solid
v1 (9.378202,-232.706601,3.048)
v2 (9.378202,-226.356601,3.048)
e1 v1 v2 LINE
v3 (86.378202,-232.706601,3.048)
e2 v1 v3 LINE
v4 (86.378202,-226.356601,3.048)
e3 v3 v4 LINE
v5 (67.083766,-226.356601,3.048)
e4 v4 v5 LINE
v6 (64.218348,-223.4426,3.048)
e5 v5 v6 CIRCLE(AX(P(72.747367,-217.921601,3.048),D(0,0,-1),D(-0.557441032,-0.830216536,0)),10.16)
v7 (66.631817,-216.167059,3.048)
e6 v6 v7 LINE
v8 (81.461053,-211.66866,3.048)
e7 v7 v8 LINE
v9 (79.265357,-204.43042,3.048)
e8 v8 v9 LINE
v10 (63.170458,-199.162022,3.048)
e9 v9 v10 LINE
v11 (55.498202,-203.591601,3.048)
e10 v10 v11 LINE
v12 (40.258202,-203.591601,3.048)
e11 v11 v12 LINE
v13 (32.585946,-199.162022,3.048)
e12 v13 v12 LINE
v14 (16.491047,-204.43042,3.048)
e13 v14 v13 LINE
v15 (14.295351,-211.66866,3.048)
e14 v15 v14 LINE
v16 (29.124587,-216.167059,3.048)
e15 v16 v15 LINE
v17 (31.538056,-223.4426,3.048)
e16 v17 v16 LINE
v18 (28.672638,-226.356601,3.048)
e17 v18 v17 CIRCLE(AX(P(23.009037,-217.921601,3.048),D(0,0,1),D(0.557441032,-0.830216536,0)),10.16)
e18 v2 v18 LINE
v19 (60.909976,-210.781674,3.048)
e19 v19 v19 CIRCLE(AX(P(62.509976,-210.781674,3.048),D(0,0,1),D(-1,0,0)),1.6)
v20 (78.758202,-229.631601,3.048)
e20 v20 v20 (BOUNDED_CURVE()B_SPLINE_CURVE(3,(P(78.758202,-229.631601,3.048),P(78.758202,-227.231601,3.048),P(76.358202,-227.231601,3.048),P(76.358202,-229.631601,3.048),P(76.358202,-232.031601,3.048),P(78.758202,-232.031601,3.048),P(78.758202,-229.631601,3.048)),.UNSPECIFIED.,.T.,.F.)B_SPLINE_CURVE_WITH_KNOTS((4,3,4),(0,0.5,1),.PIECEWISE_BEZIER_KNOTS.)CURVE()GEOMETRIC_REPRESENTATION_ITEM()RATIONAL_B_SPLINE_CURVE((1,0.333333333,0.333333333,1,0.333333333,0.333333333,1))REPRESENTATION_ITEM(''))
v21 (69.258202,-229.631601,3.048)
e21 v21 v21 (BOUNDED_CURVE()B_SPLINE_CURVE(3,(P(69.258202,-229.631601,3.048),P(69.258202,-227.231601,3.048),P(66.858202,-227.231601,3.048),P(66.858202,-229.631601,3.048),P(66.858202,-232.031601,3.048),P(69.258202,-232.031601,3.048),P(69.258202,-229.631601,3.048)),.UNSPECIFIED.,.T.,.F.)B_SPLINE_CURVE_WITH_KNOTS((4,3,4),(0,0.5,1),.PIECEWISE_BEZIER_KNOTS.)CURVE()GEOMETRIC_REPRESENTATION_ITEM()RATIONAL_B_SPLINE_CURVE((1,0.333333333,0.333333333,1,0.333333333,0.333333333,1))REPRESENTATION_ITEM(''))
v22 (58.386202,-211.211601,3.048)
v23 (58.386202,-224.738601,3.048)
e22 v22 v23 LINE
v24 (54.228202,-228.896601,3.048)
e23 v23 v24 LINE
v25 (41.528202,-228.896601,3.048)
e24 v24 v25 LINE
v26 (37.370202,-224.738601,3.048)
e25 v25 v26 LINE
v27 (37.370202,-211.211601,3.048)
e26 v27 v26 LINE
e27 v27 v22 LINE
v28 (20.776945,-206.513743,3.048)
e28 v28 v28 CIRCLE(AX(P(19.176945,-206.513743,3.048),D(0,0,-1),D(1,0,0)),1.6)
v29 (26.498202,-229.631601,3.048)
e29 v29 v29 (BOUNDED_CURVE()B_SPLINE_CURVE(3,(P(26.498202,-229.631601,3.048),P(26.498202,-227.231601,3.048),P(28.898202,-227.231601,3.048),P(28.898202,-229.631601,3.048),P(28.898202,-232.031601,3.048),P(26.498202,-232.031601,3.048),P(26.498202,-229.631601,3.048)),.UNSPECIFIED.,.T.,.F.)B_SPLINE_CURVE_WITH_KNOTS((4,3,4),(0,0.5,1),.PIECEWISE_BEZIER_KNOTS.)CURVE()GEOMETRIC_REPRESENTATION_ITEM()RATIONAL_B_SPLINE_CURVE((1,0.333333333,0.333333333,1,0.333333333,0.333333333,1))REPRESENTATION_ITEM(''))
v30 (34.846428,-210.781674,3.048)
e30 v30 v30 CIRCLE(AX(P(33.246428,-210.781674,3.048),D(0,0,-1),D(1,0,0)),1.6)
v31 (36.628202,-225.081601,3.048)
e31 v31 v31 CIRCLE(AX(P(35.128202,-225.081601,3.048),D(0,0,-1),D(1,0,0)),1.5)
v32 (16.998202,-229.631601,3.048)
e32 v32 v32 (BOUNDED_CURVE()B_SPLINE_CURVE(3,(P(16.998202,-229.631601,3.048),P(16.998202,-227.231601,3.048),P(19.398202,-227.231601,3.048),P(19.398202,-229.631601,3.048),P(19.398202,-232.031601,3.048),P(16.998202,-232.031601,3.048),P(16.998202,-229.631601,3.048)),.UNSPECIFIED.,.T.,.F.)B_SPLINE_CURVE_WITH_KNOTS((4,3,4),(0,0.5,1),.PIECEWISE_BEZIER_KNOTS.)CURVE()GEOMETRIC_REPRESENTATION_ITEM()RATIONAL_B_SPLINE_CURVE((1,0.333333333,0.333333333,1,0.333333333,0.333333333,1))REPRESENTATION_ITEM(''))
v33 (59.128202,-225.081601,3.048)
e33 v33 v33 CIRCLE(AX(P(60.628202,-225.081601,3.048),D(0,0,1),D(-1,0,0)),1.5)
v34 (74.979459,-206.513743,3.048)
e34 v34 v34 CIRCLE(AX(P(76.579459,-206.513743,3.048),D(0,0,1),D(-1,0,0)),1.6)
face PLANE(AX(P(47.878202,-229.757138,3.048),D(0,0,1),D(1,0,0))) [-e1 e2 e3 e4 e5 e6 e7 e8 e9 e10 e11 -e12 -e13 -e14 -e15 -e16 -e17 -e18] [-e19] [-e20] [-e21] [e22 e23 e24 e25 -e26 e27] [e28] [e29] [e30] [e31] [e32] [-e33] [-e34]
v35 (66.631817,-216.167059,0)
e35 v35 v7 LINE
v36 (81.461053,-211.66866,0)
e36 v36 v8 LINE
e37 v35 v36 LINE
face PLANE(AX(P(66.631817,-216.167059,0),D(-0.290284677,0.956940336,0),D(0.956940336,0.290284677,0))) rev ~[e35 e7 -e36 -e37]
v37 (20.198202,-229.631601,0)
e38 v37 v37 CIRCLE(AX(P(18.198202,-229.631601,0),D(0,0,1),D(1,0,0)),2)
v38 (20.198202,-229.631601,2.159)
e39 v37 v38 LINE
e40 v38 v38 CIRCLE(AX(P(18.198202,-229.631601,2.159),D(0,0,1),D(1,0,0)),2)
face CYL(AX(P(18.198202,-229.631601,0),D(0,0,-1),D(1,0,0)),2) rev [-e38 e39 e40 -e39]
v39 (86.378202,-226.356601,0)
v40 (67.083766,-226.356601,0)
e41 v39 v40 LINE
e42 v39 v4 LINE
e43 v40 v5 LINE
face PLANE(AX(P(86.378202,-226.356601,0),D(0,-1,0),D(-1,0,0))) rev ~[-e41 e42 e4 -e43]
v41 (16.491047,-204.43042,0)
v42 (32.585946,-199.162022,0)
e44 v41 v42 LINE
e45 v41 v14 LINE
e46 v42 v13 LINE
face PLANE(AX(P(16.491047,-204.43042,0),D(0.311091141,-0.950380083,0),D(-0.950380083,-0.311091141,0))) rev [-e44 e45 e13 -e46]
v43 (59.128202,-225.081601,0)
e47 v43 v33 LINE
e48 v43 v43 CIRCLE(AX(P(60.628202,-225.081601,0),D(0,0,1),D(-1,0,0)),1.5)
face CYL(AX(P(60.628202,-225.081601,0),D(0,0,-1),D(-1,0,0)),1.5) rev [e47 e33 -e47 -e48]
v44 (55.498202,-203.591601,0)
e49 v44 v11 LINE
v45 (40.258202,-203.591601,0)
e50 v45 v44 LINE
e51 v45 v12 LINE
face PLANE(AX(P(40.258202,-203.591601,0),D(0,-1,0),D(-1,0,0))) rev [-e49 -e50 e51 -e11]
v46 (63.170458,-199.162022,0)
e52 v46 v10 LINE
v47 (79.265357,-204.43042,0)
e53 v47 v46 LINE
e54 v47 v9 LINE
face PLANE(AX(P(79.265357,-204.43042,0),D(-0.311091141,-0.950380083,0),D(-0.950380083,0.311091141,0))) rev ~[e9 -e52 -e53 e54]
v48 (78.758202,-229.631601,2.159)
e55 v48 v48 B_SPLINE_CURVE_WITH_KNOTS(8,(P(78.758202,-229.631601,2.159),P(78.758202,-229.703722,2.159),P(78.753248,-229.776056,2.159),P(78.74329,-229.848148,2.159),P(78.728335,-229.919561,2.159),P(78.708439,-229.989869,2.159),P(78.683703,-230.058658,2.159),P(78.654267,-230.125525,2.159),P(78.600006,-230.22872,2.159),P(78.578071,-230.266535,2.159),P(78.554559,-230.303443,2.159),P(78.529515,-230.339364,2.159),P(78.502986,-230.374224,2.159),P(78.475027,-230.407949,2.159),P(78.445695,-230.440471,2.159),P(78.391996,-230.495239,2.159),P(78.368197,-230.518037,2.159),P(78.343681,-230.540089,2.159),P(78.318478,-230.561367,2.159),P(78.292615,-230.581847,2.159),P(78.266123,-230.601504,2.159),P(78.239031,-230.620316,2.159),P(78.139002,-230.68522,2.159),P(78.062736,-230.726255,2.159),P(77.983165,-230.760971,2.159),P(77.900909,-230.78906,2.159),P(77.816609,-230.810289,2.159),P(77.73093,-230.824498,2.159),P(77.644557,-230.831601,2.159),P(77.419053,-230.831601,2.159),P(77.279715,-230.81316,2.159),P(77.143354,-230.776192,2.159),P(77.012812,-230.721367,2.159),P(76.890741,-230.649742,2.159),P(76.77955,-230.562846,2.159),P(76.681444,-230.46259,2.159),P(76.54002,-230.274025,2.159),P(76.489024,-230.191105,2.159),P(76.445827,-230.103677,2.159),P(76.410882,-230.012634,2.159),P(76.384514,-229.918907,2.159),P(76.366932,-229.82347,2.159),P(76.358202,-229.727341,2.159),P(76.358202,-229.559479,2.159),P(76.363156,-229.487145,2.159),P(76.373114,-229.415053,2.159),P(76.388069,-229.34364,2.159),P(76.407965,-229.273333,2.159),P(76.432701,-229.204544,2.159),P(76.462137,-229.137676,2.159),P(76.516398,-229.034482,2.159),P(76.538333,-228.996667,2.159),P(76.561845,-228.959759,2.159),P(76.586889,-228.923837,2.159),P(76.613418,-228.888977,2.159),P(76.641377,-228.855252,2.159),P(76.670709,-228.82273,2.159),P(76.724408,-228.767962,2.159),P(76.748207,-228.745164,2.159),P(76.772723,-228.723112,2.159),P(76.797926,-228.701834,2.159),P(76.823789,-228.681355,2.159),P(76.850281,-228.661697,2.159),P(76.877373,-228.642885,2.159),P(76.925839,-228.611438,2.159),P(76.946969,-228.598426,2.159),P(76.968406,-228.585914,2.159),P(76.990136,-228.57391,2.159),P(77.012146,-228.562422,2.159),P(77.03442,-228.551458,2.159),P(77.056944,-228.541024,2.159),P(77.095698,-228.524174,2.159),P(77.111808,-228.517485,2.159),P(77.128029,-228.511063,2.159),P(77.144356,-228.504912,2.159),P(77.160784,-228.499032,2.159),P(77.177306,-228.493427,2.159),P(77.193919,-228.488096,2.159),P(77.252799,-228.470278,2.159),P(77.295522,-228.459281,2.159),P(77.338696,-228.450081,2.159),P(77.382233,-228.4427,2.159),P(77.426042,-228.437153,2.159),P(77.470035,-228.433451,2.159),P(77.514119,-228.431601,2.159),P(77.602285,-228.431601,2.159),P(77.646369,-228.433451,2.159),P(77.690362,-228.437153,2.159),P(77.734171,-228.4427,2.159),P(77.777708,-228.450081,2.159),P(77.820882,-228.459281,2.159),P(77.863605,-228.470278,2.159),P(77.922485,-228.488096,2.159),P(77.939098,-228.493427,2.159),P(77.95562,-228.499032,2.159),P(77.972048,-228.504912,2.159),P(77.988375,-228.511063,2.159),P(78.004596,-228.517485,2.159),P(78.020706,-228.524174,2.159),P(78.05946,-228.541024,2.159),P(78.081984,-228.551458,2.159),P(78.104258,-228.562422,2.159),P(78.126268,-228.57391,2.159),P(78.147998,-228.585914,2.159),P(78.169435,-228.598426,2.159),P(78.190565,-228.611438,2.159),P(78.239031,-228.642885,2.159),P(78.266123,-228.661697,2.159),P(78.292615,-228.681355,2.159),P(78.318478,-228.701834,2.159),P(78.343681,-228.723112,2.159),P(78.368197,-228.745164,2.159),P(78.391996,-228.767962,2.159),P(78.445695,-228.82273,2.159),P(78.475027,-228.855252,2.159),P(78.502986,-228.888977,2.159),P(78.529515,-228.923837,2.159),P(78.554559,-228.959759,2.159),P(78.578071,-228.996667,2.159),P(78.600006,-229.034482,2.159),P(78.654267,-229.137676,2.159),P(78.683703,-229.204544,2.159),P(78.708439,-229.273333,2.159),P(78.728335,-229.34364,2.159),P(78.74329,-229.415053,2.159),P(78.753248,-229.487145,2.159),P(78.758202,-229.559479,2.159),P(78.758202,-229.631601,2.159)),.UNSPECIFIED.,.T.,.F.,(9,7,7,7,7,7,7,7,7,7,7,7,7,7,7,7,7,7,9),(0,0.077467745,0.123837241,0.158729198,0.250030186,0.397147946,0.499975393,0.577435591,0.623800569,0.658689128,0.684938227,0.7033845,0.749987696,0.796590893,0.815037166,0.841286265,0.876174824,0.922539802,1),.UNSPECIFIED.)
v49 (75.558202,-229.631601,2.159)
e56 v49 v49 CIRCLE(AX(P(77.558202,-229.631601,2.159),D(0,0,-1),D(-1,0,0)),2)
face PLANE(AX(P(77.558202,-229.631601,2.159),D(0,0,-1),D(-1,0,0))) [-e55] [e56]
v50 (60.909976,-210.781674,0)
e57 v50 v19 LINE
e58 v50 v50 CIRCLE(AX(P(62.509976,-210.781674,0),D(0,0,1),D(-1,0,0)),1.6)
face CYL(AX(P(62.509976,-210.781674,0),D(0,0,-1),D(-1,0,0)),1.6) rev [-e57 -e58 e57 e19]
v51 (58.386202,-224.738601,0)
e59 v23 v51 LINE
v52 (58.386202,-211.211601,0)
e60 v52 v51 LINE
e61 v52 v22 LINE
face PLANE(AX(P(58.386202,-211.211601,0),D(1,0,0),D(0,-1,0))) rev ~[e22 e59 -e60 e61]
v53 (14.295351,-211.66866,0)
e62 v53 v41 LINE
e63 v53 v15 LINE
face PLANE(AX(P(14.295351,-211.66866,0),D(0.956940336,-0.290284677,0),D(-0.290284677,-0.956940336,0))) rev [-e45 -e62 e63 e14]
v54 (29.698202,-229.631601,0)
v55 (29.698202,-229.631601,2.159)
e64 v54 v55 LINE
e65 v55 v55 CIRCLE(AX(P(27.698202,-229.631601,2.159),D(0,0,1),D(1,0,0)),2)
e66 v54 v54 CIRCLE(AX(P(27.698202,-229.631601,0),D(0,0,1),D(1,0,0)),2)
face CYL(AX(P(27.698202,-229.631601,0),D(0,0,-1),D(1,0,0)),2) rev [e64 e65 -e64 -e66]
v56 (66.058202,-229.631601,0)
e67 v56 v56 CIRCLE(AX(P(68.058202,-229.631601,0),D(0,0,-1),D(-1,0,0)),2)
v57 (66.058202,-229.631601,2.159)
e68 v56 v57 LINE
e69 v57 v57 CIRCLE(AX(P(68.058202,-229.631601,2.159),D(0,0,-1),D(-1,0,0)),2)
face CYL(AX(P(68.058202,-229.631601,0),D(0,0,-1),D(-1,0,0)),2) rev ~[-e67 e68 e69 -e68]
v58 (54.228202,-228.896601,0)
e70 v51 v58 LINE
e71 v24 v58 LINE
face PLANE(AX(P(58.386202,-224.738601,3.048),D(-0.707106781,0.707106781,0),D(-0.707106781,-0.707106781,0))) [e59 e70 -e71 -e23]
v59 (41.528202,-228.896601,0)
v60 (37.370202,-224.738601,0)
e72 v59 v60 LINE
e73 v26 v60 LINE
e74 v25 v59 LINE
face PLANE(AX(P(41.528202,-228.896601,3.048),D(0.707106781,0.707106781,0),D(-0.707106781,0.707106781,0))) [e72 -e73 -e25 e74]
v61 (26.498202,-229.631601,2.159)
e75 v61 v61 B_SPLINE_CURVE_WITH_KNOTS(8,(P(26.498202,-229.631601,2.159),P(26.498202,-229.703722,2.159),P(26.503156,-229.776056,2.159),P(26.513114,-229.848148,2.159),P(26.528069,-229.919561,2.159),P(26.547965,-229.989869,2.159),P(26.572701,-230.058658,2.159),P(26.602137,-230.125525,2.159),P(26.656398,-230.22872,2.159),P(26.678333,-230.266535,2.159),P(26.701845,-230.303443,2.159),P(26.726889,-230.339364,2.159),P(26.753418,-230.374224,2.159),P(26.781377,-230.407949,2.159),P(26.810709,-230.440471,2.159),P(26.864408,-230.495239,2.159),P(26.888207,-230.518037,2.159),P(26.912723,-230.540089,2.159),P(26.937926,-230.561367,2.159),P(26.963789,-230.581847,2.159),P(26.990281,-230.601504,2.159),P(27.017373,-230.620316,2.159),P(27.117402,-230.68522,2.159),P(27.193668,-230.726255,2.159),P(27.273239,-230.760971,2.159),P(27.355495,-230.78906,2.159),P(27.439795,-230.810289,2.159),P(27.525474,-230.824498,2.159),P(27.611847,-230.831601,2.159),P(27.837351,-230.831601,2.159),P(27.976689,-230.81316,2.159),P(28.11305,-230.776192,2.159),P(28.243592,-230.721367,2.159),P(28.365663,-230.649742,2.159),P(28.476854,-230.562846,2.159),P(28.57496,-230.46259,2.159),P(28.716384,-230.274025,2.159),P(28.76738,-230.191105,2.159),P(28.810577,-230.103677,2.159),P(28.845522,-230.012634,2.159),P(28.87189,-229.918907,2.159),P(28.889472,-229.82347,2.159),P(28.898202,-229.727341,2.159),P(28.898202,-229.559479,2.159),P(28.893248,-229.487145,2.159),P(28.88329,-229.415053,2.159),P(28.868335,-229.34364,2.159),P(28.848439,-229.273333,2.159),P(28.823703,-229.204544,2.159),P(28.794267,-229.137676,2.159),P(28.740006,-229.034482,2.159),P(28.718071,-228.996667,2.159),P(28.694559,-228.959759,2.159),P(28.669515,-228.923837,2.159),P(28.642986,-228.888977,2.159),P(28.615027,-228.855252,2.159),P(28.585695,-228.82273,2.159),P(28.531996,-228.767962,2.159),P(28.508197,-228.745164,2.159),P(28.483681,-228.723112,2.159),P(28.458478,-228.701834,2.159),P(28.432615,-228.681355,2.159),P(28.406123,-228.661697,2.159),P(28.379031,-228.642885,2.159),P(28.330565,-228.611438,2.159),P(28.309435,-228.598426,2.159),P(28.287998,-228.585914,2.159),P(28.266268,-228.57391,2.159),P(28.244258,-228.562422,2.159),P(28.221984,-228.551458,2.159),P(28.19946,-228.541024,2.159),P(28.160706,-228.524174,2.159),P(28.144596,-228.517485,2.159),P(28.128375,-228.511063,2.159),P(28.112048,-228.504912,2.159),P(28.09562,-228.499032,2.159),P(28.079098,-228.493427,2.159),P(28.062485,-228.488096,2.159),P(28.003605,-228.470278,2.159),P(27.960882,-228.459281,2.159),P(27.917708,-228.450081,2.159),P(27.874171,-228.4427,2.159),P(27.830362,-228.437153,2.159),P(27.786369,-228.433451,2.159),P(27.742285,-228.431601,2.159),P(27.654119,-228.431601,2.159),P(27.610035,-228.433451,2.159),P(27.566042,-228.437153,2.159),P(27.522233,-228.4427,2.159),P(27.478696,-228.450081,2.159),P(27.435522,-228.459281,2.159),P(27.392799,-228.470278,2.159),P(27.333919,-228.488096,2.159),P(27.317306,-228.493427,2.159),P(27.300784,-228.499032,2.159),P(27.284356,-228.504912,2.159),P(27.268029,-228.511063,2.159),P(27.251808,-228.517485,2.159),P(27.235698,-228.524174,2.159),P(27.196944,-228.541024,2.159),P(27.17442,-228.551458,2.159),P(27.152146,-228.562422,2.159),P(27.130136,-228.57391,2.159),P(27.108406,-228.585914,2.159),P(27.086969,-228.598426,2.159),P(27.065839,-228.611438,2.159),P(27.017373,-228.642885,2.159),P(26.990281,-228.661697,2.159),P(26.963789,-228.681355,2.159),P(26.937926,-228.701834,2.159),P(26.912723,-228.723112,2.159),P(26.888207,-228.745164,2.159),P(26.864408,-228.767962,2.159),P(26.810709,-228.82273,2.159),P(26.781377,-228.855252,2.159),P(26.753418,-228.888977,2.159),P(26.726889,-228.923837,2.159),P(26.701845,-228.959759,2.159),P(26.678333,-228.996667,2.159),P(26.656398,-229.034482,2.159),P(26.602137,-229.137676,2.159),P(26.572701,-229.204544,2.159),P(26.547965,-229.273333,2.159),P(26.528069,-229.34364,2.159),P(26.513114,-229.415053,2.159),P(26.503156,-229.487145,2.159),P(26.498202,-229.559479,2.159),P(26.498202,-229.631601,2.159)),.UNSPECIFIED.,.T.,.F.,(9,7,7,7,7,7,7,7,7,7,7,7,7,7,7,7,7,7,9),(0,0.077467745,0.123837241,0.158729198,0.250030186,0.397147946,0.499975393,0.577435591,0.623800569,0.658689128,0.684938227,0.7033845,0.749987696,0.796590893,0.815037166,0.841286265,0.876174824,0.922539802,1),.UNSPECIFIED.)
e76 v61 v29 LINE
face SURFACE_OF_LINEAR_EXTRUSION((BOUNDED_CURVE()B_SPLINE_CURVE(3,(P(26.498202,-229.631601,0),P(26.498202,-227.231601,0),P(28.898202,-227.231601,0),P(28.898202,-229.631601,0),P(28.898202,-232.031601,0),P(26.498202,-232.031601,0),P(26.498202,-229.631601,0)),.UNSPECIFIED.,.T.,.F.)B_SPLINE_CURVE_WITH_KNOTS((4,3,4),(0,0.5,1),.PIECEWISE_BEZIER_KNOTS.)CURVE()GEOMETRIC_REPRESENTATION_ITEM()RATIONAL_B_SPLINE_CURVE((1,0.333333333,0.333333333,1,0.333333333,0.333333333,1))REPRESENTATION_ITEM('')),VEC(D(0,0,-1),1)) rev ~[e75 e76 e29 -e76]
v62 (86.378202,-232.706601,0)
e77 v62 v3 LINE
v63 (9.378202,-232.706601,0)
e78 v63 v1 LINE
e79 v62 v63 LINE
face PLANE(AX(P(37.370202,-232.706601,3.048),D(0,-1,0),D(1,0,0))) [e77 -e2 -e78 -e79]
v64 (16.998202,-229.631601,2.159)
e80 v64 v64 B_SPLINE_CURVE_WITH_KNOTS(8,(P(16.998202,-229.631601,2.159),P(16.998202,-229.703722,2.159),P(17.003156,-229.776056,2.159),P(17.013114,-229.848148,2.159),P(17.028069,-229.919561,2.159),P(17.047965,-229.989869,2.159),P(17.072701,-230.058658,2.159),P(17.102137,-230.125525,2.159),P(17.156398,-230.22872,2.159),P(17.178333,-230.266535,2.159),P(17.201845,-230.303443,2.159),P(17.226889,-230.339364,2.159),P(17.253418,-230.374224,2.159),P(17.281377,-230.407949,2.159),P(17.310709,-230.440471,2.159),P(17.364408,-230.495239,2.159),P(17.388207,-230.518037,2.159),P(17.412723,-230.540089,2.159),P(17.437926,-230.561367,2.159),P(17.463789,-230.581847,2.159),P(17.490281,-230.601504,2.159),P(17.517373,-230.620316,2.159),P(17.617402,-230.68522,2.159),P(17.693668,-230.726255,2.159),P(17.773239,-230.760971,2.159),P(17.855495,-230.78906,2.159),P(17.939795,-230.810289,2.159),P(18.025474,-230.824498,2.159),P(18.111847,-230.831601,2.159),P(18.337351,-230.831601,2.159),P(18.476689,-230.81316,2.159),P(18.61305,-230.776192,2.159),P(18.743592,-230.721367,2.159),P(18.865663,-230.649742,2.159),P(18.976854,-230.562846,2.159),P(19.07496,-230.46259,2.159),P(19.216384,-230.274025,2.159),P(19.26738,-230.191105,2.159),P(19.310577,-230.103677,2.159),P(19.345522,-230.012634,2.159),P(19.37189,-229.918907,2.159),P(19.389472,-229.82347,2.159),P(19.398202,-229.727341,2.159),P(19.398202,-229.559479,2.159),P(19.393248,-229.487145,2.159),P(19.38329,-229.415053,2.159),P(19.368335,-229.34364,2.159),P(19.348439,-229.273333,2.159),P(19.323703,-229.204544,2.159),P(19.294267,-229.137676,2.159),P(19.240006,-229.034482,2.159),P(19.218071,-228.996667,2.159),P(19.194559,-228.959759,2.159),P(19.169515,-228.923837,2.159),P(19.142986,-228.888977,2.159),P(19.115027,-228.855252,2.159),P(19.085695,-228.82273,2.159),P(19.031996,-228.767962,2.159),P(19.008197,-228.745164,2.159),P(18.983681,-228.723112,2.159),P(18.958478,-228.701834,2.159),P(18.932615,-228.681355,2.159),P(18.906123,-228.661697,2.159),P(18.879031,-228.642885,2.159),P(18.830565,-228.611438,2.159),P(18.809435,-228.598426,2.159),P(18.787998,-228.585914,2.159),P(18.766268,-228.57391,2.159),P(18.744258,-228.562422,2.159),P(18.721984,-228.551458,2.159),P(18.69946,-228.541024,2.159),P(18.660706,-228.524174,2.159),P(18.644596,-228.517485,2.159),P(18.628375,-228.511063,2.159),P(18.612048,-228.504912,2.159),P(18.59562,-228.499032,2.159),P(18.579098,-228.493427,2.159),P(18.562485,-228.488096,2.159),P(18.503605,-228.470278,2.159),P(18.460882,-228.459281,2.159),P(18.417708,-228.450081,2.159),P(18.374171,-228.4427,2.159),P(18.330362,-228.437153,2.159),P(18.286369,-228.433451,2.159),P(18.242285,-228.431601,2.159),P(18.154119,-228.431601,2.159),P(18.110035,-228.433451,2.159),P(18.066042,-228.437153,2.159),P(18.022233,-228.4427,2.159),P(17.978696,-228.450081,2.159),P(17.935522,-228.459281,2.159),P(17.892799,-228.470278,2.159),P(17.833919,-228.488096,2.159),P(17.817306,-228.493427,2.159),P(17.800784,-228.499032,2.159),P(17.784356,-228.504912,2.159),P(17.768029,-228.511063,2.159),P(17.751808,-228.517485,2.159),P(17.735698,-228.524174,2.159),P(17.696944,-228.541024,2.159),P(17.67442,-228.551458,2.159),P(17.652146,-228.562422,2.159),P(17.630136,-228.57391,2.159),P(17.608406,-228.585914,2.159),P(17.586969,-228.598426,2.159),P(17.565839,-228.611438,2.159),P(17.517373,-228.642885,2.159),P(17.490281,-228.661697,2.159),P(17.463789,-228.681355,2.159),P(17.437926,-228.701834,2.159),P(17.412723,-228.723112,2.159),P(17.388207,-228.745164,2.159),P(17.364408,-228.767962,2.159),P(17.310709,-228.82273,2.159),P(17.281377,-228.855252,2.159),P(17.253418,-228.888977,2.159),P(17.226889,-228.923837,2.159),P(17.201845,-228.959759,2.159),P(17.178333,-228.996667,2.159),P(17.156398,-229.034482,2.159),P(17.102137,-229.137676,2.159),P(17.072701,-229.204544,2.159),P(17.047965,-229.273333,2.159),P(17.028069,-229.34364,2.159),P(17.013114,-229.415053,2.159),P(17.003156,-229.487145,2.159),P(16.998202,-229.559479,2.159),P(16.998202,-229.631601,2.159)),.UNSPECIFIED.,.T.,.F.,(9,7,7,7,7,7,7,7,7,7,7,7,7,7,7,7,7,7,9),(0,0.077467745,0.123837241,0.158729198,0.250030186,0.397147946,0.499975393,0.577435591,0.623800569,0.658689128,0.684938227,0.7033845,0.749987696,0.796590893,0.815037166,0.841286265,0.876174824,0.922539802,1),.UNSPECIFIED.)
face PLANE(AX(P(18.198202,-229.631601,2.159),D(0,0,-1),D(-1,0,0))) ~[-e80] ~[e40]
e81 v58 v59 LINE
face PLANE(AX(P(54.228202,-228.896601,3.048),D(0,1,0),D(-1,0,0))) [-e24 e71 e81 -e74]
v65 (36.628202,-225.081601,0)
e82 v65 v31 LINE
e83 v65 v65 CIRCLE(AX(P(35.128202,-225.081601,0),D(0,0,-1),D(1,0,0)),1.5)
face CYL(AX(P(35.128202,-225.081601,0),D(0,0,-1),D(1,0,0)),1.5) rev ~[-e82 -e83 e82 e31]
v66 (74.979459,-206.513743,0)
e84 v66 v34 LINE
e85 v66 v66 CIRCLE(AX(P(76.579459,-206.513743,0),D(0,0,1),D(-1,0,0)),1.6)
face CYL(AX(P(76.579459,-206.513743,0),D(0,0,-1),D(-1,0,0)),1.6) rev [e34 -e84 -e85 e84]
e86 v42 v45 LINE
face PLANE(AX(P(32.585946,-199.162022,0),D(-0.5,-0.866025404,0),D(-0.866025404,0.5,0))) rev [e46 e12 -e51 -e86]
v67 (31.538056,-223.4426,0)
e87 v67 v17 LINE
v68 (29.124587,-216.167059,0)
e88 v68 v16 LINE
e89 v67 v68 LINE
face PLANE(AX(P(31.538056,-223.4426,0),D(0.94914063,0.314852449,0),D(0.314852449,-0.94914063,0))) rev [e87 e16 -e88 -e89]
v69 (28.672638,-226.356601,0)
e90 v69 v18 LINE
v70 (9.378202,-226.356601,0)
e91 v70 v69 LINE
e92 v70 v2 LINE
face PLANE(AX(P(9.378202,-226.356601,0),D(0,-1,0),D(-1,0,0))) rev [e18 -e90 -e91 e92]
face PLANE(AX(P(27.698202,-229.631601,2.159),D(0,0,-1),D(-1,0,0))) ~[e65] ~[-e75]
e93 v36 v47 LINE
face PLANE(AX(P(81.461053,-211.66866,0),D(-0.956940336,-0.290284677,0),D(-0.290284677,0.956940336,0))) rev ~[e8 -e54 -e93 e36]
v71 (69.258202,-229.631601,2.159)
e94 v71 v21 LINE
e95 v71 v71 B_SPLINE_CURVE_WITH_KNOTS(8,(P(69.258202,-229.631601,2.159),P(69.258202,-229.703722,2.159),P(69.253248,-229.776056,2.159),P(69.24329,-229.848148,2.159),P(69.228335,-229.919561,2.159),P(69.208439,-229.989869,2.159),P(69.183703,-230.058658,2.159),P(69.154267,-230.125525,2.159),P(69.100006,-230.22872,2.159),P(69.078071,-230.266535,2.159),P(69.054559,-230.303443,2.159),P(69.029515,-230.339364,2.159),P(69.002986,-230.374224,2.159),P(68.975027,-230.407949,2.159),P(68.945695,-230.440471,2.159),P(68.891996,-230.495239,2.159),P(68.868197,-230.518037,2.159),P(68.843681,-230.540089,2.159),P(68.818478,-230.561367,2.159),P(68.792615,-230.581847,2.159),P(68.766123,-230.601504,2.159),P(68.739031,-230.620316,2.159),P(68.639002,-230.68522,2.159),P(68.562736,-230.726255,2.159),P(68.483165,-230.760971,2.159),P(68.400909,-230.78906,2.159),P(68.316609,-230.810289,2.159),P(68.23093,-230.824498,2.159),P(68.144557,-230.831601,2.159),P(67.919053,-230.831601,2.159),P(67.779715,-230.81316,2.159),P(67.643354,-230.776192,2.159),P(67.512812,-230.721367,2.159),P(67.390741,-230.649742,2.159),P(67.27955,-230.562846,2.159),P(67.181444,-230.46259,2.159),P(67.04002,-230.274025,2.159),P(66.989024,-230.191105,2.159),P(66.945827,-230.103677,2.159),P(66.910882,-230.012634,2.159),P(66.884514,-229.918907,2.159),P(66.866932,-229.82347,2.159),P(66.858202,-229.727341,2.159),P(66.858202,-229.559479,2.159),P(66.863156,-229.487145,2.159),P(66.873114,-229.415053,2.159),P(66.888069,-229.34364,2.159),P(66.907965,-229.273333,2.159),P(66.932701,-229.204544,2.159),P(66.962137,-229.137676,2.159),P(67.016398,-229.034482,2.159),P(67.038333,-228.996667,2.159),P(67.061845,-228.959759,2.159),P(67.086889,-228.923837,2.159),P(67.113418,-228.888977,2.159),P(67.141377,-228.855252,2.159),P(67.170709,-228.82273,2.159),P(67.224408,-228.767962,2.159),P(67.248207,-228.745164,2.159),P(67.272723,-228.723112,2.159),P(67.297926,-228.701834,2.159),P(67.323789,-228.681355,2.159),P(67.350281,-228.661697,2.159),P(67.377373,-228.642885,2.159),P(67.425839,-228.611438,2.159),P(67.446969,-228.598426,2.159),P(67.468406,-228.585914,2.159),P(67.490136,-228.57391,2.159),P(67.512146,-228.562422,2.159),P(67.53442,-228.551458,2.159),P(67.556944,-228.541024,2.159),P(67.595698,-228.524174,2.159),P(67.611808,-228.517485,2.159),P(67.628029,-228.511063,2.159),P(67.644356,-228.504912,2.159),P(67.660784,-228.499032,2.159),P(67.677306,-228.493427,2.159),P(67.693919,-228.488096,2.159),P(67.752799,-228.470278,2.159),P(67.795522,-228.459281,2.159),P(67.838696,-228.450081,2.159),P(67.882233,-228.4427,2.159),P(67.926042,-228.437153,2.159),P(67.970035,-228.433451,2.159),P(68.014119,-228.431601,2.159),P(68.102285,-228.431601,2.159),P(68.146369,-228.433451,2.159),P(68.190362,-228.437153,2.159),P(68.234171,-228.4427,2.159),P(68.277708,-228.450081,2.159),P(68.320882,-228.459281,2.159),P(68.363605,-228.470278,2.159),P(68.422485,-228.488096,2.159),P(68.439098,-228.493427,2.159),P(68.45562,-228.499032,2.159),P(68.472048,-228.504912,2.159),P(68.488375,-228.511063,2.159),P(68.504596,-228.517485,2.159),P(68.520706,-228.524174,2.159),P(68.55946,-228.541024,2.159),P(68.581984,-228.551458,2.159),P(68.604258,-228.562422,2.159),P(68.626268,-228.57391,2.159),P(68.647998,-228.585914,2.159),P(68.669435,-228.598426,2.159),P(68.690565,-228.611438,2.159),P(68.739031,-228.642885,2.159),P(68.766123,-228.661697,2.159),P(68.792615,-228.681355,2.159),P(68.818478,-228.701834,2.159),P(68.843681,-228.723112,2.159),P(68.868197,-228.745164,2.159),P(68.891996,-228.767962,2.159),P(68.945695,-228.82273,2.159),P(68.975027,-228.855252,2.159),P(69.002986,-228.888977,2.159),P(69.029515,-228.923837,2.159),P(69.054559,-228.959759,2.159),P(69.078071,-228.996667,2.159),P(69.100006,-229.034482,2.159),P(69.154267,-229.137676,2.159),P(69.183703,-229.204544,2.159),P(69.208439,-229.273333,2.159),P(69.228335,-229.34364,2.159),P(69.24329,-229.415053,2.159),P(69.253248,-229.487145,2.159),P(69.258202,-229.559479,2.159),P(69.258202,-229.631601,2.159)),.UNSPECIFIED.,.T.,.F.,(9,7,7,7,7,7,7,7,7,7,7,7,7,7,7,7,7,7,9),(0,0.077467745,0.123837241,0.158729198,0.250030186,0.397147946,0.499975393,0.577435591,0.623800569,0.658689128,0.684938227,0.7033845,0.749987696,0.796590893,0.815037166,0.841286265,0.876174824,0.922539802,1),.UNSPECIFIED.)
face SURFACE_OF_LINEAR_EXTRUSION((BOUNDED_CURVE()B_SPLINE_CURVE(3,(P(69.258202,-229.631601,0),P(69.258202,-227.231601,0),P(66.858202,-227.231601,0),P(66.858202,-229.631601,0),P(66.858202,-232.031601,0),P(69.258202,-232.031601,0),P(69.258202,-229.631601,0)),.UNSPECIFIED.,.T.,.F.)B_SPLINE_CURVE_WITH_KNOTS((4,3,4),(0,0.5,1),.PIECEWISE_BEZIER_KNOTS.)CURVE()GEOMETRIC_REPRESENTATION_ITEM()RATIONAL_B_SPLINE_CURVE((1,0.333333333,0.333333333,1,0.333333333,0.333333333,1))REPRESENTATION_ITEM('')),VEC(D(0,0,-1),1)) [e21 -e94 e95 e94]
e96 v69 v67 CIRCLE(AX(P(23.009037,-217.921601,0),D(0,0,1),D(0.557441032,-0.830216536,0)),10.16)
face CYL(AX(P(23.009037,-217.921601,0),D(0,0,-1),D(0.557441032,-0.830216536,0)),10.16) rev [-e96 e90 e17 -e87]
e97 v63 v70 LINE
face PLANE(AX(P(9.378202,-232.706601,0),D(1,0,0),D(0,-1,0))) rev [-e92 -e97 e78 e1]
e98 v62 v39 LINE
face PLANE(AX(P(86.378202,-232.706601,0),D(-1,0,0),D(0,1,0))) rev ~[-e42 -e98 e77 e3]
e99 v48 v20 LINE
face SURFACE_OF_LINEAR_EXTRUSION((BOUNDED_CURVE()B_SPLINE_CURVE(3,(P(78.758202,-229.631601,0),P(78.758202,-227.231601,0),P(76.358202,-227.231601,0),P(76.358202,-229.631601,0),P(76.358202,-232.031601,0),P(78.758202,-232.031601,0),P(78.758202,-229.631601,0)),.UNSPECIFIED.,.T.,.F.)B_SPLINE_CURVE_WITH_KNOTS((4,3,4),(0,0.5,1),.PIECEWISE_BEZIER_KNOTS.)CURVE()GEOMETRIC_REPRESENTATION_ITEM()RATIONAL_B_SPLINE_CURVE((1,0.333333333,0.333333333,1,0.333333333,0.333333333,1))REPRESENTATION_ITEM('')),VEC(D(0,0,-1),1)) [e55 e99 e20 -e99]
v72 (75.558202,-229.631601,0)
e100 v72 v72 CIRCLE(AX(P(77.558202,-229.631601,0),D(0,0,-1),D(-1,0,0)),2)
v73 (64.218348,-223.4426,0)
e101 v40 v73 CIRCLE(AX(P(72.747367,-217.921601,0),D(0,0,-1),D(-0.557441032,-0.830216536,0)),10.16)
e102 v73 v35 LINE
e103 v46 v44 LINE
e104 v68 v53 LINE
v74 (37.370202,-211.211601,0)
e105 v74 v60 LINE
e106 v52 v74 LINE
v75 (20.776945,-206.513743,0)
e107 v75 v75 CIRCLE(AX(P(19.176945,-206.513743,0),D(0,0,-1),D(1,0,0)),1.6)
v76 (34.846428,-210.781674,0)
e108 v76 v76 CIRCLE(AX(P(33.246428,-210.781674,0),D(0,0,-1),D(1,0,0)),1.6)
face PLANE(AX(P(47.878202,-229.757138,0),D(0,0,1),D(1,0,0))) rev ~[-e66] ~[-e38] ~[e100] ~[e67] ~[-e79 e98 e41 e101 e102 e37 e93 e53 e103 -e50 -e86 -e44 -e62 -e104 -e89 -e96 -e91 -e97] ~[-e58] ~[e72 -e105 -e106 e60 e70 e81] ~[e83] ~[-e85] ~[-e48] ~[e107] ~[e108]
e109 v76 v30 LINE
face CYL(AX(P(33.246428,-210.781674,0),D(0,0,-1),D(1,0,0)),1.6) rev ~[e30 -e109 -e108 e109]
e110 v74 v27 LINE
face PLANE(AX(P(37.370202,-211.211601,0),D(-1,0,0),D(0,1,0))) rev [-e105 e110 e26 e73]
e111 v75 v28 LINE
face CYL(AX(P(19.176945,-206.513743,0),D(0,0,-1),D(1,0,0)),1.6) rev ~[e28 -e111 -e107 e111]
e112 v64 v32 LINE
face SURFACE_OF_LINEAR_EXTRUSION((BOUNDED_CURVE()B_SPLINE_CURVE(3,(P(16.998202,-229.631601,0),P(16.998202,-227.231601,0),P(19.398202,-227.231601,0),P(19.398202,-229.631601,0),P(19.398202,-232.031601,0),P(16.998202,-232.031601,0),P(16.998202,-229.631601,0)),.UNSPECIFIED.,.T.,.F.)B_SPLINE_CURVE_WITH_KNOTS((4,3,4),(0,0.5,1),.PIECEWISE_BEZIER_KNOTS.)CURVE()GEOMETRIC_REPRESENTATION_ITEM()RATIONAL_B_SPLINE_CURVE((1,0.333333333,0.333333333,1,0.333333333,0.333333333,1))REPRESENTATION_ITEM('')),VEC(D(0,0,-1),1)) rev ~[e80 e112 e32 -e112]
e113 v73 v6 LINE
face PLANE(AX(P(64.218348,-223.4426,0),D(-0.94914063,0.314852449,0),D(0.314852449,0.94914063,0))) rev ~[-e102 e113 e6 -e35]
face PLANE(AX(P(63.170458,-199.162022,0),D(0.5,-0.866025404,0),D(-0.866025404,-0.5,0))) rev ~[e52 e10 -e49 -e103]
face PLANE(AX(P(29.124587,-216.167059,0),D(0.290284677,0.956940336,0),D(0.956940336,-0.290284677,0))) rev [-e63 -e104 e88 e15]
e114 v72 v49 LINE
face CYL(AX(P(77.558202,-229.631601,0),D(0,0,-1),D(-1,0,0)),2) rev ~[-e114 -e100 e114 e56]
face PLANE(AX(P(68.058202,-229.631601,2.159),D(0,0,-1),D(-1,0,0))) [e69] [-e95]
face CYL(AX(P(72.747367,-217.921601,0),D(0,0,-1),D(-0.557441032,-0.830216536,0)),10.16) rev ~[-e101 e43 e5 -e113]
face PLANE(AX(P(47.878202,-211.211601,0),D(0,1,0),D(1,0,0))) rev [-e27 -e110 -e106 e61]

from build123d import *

# Parameters (mm, degrees)
SKETCH1_R           = 1.5
SKETCH1_R_2         = 1.6
BOSS_EXTRUDE1_DEPTH = 3.048
SKETCH2_R           = 2
CUT_EXTRUDE1_DEPTH  = 2.159
BOSS_EXTRUDE2_DEPTH = 3.048


with BuildPart() as part:
    # Sketch1 → Boss-Extrude1 (new body)
    with BuildSketch(Plane.XY):
        with BuildLine():
            Line((79.265356566, -204.430419713), (63.170457618, -199.16202177))
            Line((63.170457618, -199.16202177), (55.498201994, -203.59160062))
            Line((55.498201994, -203.59160062), (47.878201994, -203.59160062))
            Line((47.878201994, -203.59160062), (47.878201994, -211.21160062))
            Line((47.878201994, -211.21160062), (58.386201994, -211.21160062))
            Line((58.386201994, -211.21160062), (58.386201994, -232.70660062))
            Line((58.386201994, -232.70660062), (86.378201994, -232.70660062))
            Line((86.378201994, -232.70660062), (86.378201994, -226.35660062))
            Line((86.378201994, -226.35660062), (67.083766093, -226.35660062))
            ThreePointArc((67.083766093, -226.35660062), (65.503026614, -225.045162417), (64.21834769, -223.442599621))
            Line((64.21834769, -223.442599621), (66.631816904, -216.167059283))
            Line((66.631816904, -216.167059283), (81.461052688, -211.668659788))
            Line((81.461052688, -211.668659788), (79.265356566, -204.430419713))
        make_face()
        with BuildLine():
            add(Edge.make_bspline(
                [(69.258201994, -229.63160062), (69.258201994, -227.23160062), (66.858201994, -227.23160062), (66.858201994, -229.63160062), (66.858201994, -232.03160062), (69.258201994, -232.03160062), (69.258201994, -229.63160062)],
                knots=[0, 0, 0, 0, 0.5, 0.5, 0.5, 1, 1, 1, 1], degree=3, weights=[1, 0.333333333, 0.333333333, 1, 0.333333333, 0.333333333, 1]))
        make_face(mode=Mode.SUBTRACT)
        with Locations(Location((60.628201973, -225.081600518, 0), (0, 0, 180))):
            Circle(SKETCH1_R, mode=Mode.SUBTRACT)
        with BuildLine():
            add(Edge.make_bspline(
                [(78.758201994, -229.63160062), (78.758201994, -227.23160062), (76.358201994, -227.23160062), (76.358201994, -229.63160062), (76.358201994, -232.03160062), (78.758201994, -232.03160062), (78.758201994, -229.63160062)],
                knots=[0, 0, 0, 0, 0.5, 0.5, 0.5, 1, 1, 1, 1], degree=3, weights=[1, 0.333333333, 0.333333333, 1, 0.333333333, 0.333333333, 1]))
        make_face(mode=Mode.SUBTRACT)
        with Locations(Location((62.509976145, -210.781673598, 0), (0, 0, 180))):
            Circle(SKETCH1_R_2, mode=Mode.SUBTRACT)
        with Locations(Location((76.579459421, -206.513742506, 0), (0, 0, 180))):
            Circle(SKETCH1_R_2, mode=Mode.SUBTRACT)
    extrude(amount=BOSS_EXTRUDE1_DEPTH)

    # Sketch2 → Cut-Extrude1 (cut)
    with BuildSketch(Plane(origin=(0, 0, 0), x_dir=(-1, 0, 0), z_dir=(0, 0, -1))):
        with Locations((-77.558201994, -229.63160062)):
            Circle(SKETCH2_R)
        with Locations((-68.058201994, -229.63160062)):
            Circle(SKETCH2_R)
    extrude(amount=-CUT_EXTRUDE1_DEPTH, mode=Mode.SUBTRACT)

    # Mirror1: part across plane


with BuildPart() as part_1:
    add(part.part)
    add(part.part.mirror(Plane(origin=(47.878201994, 0, 3.048), x_dir=(0, 0, 1), z_dir=(1, 0, 0))))

    # Sketch3 → Boss-Extrude2 (add)
    with BuildSketch(Plane.XY.offset(3.048)):
        Polygon((41.528201994, -228.89660062), (37.370201994, -224.73860062), (37.370201994, -232.70660062), (58.386201994, -232.70660062), (58.386201994, -224.73860062), (54.228201994, -228.89660062), align=None)
    extrude(amount=-BOSS_EXTRUDE2_DEPTH)


solid = part_1.part
